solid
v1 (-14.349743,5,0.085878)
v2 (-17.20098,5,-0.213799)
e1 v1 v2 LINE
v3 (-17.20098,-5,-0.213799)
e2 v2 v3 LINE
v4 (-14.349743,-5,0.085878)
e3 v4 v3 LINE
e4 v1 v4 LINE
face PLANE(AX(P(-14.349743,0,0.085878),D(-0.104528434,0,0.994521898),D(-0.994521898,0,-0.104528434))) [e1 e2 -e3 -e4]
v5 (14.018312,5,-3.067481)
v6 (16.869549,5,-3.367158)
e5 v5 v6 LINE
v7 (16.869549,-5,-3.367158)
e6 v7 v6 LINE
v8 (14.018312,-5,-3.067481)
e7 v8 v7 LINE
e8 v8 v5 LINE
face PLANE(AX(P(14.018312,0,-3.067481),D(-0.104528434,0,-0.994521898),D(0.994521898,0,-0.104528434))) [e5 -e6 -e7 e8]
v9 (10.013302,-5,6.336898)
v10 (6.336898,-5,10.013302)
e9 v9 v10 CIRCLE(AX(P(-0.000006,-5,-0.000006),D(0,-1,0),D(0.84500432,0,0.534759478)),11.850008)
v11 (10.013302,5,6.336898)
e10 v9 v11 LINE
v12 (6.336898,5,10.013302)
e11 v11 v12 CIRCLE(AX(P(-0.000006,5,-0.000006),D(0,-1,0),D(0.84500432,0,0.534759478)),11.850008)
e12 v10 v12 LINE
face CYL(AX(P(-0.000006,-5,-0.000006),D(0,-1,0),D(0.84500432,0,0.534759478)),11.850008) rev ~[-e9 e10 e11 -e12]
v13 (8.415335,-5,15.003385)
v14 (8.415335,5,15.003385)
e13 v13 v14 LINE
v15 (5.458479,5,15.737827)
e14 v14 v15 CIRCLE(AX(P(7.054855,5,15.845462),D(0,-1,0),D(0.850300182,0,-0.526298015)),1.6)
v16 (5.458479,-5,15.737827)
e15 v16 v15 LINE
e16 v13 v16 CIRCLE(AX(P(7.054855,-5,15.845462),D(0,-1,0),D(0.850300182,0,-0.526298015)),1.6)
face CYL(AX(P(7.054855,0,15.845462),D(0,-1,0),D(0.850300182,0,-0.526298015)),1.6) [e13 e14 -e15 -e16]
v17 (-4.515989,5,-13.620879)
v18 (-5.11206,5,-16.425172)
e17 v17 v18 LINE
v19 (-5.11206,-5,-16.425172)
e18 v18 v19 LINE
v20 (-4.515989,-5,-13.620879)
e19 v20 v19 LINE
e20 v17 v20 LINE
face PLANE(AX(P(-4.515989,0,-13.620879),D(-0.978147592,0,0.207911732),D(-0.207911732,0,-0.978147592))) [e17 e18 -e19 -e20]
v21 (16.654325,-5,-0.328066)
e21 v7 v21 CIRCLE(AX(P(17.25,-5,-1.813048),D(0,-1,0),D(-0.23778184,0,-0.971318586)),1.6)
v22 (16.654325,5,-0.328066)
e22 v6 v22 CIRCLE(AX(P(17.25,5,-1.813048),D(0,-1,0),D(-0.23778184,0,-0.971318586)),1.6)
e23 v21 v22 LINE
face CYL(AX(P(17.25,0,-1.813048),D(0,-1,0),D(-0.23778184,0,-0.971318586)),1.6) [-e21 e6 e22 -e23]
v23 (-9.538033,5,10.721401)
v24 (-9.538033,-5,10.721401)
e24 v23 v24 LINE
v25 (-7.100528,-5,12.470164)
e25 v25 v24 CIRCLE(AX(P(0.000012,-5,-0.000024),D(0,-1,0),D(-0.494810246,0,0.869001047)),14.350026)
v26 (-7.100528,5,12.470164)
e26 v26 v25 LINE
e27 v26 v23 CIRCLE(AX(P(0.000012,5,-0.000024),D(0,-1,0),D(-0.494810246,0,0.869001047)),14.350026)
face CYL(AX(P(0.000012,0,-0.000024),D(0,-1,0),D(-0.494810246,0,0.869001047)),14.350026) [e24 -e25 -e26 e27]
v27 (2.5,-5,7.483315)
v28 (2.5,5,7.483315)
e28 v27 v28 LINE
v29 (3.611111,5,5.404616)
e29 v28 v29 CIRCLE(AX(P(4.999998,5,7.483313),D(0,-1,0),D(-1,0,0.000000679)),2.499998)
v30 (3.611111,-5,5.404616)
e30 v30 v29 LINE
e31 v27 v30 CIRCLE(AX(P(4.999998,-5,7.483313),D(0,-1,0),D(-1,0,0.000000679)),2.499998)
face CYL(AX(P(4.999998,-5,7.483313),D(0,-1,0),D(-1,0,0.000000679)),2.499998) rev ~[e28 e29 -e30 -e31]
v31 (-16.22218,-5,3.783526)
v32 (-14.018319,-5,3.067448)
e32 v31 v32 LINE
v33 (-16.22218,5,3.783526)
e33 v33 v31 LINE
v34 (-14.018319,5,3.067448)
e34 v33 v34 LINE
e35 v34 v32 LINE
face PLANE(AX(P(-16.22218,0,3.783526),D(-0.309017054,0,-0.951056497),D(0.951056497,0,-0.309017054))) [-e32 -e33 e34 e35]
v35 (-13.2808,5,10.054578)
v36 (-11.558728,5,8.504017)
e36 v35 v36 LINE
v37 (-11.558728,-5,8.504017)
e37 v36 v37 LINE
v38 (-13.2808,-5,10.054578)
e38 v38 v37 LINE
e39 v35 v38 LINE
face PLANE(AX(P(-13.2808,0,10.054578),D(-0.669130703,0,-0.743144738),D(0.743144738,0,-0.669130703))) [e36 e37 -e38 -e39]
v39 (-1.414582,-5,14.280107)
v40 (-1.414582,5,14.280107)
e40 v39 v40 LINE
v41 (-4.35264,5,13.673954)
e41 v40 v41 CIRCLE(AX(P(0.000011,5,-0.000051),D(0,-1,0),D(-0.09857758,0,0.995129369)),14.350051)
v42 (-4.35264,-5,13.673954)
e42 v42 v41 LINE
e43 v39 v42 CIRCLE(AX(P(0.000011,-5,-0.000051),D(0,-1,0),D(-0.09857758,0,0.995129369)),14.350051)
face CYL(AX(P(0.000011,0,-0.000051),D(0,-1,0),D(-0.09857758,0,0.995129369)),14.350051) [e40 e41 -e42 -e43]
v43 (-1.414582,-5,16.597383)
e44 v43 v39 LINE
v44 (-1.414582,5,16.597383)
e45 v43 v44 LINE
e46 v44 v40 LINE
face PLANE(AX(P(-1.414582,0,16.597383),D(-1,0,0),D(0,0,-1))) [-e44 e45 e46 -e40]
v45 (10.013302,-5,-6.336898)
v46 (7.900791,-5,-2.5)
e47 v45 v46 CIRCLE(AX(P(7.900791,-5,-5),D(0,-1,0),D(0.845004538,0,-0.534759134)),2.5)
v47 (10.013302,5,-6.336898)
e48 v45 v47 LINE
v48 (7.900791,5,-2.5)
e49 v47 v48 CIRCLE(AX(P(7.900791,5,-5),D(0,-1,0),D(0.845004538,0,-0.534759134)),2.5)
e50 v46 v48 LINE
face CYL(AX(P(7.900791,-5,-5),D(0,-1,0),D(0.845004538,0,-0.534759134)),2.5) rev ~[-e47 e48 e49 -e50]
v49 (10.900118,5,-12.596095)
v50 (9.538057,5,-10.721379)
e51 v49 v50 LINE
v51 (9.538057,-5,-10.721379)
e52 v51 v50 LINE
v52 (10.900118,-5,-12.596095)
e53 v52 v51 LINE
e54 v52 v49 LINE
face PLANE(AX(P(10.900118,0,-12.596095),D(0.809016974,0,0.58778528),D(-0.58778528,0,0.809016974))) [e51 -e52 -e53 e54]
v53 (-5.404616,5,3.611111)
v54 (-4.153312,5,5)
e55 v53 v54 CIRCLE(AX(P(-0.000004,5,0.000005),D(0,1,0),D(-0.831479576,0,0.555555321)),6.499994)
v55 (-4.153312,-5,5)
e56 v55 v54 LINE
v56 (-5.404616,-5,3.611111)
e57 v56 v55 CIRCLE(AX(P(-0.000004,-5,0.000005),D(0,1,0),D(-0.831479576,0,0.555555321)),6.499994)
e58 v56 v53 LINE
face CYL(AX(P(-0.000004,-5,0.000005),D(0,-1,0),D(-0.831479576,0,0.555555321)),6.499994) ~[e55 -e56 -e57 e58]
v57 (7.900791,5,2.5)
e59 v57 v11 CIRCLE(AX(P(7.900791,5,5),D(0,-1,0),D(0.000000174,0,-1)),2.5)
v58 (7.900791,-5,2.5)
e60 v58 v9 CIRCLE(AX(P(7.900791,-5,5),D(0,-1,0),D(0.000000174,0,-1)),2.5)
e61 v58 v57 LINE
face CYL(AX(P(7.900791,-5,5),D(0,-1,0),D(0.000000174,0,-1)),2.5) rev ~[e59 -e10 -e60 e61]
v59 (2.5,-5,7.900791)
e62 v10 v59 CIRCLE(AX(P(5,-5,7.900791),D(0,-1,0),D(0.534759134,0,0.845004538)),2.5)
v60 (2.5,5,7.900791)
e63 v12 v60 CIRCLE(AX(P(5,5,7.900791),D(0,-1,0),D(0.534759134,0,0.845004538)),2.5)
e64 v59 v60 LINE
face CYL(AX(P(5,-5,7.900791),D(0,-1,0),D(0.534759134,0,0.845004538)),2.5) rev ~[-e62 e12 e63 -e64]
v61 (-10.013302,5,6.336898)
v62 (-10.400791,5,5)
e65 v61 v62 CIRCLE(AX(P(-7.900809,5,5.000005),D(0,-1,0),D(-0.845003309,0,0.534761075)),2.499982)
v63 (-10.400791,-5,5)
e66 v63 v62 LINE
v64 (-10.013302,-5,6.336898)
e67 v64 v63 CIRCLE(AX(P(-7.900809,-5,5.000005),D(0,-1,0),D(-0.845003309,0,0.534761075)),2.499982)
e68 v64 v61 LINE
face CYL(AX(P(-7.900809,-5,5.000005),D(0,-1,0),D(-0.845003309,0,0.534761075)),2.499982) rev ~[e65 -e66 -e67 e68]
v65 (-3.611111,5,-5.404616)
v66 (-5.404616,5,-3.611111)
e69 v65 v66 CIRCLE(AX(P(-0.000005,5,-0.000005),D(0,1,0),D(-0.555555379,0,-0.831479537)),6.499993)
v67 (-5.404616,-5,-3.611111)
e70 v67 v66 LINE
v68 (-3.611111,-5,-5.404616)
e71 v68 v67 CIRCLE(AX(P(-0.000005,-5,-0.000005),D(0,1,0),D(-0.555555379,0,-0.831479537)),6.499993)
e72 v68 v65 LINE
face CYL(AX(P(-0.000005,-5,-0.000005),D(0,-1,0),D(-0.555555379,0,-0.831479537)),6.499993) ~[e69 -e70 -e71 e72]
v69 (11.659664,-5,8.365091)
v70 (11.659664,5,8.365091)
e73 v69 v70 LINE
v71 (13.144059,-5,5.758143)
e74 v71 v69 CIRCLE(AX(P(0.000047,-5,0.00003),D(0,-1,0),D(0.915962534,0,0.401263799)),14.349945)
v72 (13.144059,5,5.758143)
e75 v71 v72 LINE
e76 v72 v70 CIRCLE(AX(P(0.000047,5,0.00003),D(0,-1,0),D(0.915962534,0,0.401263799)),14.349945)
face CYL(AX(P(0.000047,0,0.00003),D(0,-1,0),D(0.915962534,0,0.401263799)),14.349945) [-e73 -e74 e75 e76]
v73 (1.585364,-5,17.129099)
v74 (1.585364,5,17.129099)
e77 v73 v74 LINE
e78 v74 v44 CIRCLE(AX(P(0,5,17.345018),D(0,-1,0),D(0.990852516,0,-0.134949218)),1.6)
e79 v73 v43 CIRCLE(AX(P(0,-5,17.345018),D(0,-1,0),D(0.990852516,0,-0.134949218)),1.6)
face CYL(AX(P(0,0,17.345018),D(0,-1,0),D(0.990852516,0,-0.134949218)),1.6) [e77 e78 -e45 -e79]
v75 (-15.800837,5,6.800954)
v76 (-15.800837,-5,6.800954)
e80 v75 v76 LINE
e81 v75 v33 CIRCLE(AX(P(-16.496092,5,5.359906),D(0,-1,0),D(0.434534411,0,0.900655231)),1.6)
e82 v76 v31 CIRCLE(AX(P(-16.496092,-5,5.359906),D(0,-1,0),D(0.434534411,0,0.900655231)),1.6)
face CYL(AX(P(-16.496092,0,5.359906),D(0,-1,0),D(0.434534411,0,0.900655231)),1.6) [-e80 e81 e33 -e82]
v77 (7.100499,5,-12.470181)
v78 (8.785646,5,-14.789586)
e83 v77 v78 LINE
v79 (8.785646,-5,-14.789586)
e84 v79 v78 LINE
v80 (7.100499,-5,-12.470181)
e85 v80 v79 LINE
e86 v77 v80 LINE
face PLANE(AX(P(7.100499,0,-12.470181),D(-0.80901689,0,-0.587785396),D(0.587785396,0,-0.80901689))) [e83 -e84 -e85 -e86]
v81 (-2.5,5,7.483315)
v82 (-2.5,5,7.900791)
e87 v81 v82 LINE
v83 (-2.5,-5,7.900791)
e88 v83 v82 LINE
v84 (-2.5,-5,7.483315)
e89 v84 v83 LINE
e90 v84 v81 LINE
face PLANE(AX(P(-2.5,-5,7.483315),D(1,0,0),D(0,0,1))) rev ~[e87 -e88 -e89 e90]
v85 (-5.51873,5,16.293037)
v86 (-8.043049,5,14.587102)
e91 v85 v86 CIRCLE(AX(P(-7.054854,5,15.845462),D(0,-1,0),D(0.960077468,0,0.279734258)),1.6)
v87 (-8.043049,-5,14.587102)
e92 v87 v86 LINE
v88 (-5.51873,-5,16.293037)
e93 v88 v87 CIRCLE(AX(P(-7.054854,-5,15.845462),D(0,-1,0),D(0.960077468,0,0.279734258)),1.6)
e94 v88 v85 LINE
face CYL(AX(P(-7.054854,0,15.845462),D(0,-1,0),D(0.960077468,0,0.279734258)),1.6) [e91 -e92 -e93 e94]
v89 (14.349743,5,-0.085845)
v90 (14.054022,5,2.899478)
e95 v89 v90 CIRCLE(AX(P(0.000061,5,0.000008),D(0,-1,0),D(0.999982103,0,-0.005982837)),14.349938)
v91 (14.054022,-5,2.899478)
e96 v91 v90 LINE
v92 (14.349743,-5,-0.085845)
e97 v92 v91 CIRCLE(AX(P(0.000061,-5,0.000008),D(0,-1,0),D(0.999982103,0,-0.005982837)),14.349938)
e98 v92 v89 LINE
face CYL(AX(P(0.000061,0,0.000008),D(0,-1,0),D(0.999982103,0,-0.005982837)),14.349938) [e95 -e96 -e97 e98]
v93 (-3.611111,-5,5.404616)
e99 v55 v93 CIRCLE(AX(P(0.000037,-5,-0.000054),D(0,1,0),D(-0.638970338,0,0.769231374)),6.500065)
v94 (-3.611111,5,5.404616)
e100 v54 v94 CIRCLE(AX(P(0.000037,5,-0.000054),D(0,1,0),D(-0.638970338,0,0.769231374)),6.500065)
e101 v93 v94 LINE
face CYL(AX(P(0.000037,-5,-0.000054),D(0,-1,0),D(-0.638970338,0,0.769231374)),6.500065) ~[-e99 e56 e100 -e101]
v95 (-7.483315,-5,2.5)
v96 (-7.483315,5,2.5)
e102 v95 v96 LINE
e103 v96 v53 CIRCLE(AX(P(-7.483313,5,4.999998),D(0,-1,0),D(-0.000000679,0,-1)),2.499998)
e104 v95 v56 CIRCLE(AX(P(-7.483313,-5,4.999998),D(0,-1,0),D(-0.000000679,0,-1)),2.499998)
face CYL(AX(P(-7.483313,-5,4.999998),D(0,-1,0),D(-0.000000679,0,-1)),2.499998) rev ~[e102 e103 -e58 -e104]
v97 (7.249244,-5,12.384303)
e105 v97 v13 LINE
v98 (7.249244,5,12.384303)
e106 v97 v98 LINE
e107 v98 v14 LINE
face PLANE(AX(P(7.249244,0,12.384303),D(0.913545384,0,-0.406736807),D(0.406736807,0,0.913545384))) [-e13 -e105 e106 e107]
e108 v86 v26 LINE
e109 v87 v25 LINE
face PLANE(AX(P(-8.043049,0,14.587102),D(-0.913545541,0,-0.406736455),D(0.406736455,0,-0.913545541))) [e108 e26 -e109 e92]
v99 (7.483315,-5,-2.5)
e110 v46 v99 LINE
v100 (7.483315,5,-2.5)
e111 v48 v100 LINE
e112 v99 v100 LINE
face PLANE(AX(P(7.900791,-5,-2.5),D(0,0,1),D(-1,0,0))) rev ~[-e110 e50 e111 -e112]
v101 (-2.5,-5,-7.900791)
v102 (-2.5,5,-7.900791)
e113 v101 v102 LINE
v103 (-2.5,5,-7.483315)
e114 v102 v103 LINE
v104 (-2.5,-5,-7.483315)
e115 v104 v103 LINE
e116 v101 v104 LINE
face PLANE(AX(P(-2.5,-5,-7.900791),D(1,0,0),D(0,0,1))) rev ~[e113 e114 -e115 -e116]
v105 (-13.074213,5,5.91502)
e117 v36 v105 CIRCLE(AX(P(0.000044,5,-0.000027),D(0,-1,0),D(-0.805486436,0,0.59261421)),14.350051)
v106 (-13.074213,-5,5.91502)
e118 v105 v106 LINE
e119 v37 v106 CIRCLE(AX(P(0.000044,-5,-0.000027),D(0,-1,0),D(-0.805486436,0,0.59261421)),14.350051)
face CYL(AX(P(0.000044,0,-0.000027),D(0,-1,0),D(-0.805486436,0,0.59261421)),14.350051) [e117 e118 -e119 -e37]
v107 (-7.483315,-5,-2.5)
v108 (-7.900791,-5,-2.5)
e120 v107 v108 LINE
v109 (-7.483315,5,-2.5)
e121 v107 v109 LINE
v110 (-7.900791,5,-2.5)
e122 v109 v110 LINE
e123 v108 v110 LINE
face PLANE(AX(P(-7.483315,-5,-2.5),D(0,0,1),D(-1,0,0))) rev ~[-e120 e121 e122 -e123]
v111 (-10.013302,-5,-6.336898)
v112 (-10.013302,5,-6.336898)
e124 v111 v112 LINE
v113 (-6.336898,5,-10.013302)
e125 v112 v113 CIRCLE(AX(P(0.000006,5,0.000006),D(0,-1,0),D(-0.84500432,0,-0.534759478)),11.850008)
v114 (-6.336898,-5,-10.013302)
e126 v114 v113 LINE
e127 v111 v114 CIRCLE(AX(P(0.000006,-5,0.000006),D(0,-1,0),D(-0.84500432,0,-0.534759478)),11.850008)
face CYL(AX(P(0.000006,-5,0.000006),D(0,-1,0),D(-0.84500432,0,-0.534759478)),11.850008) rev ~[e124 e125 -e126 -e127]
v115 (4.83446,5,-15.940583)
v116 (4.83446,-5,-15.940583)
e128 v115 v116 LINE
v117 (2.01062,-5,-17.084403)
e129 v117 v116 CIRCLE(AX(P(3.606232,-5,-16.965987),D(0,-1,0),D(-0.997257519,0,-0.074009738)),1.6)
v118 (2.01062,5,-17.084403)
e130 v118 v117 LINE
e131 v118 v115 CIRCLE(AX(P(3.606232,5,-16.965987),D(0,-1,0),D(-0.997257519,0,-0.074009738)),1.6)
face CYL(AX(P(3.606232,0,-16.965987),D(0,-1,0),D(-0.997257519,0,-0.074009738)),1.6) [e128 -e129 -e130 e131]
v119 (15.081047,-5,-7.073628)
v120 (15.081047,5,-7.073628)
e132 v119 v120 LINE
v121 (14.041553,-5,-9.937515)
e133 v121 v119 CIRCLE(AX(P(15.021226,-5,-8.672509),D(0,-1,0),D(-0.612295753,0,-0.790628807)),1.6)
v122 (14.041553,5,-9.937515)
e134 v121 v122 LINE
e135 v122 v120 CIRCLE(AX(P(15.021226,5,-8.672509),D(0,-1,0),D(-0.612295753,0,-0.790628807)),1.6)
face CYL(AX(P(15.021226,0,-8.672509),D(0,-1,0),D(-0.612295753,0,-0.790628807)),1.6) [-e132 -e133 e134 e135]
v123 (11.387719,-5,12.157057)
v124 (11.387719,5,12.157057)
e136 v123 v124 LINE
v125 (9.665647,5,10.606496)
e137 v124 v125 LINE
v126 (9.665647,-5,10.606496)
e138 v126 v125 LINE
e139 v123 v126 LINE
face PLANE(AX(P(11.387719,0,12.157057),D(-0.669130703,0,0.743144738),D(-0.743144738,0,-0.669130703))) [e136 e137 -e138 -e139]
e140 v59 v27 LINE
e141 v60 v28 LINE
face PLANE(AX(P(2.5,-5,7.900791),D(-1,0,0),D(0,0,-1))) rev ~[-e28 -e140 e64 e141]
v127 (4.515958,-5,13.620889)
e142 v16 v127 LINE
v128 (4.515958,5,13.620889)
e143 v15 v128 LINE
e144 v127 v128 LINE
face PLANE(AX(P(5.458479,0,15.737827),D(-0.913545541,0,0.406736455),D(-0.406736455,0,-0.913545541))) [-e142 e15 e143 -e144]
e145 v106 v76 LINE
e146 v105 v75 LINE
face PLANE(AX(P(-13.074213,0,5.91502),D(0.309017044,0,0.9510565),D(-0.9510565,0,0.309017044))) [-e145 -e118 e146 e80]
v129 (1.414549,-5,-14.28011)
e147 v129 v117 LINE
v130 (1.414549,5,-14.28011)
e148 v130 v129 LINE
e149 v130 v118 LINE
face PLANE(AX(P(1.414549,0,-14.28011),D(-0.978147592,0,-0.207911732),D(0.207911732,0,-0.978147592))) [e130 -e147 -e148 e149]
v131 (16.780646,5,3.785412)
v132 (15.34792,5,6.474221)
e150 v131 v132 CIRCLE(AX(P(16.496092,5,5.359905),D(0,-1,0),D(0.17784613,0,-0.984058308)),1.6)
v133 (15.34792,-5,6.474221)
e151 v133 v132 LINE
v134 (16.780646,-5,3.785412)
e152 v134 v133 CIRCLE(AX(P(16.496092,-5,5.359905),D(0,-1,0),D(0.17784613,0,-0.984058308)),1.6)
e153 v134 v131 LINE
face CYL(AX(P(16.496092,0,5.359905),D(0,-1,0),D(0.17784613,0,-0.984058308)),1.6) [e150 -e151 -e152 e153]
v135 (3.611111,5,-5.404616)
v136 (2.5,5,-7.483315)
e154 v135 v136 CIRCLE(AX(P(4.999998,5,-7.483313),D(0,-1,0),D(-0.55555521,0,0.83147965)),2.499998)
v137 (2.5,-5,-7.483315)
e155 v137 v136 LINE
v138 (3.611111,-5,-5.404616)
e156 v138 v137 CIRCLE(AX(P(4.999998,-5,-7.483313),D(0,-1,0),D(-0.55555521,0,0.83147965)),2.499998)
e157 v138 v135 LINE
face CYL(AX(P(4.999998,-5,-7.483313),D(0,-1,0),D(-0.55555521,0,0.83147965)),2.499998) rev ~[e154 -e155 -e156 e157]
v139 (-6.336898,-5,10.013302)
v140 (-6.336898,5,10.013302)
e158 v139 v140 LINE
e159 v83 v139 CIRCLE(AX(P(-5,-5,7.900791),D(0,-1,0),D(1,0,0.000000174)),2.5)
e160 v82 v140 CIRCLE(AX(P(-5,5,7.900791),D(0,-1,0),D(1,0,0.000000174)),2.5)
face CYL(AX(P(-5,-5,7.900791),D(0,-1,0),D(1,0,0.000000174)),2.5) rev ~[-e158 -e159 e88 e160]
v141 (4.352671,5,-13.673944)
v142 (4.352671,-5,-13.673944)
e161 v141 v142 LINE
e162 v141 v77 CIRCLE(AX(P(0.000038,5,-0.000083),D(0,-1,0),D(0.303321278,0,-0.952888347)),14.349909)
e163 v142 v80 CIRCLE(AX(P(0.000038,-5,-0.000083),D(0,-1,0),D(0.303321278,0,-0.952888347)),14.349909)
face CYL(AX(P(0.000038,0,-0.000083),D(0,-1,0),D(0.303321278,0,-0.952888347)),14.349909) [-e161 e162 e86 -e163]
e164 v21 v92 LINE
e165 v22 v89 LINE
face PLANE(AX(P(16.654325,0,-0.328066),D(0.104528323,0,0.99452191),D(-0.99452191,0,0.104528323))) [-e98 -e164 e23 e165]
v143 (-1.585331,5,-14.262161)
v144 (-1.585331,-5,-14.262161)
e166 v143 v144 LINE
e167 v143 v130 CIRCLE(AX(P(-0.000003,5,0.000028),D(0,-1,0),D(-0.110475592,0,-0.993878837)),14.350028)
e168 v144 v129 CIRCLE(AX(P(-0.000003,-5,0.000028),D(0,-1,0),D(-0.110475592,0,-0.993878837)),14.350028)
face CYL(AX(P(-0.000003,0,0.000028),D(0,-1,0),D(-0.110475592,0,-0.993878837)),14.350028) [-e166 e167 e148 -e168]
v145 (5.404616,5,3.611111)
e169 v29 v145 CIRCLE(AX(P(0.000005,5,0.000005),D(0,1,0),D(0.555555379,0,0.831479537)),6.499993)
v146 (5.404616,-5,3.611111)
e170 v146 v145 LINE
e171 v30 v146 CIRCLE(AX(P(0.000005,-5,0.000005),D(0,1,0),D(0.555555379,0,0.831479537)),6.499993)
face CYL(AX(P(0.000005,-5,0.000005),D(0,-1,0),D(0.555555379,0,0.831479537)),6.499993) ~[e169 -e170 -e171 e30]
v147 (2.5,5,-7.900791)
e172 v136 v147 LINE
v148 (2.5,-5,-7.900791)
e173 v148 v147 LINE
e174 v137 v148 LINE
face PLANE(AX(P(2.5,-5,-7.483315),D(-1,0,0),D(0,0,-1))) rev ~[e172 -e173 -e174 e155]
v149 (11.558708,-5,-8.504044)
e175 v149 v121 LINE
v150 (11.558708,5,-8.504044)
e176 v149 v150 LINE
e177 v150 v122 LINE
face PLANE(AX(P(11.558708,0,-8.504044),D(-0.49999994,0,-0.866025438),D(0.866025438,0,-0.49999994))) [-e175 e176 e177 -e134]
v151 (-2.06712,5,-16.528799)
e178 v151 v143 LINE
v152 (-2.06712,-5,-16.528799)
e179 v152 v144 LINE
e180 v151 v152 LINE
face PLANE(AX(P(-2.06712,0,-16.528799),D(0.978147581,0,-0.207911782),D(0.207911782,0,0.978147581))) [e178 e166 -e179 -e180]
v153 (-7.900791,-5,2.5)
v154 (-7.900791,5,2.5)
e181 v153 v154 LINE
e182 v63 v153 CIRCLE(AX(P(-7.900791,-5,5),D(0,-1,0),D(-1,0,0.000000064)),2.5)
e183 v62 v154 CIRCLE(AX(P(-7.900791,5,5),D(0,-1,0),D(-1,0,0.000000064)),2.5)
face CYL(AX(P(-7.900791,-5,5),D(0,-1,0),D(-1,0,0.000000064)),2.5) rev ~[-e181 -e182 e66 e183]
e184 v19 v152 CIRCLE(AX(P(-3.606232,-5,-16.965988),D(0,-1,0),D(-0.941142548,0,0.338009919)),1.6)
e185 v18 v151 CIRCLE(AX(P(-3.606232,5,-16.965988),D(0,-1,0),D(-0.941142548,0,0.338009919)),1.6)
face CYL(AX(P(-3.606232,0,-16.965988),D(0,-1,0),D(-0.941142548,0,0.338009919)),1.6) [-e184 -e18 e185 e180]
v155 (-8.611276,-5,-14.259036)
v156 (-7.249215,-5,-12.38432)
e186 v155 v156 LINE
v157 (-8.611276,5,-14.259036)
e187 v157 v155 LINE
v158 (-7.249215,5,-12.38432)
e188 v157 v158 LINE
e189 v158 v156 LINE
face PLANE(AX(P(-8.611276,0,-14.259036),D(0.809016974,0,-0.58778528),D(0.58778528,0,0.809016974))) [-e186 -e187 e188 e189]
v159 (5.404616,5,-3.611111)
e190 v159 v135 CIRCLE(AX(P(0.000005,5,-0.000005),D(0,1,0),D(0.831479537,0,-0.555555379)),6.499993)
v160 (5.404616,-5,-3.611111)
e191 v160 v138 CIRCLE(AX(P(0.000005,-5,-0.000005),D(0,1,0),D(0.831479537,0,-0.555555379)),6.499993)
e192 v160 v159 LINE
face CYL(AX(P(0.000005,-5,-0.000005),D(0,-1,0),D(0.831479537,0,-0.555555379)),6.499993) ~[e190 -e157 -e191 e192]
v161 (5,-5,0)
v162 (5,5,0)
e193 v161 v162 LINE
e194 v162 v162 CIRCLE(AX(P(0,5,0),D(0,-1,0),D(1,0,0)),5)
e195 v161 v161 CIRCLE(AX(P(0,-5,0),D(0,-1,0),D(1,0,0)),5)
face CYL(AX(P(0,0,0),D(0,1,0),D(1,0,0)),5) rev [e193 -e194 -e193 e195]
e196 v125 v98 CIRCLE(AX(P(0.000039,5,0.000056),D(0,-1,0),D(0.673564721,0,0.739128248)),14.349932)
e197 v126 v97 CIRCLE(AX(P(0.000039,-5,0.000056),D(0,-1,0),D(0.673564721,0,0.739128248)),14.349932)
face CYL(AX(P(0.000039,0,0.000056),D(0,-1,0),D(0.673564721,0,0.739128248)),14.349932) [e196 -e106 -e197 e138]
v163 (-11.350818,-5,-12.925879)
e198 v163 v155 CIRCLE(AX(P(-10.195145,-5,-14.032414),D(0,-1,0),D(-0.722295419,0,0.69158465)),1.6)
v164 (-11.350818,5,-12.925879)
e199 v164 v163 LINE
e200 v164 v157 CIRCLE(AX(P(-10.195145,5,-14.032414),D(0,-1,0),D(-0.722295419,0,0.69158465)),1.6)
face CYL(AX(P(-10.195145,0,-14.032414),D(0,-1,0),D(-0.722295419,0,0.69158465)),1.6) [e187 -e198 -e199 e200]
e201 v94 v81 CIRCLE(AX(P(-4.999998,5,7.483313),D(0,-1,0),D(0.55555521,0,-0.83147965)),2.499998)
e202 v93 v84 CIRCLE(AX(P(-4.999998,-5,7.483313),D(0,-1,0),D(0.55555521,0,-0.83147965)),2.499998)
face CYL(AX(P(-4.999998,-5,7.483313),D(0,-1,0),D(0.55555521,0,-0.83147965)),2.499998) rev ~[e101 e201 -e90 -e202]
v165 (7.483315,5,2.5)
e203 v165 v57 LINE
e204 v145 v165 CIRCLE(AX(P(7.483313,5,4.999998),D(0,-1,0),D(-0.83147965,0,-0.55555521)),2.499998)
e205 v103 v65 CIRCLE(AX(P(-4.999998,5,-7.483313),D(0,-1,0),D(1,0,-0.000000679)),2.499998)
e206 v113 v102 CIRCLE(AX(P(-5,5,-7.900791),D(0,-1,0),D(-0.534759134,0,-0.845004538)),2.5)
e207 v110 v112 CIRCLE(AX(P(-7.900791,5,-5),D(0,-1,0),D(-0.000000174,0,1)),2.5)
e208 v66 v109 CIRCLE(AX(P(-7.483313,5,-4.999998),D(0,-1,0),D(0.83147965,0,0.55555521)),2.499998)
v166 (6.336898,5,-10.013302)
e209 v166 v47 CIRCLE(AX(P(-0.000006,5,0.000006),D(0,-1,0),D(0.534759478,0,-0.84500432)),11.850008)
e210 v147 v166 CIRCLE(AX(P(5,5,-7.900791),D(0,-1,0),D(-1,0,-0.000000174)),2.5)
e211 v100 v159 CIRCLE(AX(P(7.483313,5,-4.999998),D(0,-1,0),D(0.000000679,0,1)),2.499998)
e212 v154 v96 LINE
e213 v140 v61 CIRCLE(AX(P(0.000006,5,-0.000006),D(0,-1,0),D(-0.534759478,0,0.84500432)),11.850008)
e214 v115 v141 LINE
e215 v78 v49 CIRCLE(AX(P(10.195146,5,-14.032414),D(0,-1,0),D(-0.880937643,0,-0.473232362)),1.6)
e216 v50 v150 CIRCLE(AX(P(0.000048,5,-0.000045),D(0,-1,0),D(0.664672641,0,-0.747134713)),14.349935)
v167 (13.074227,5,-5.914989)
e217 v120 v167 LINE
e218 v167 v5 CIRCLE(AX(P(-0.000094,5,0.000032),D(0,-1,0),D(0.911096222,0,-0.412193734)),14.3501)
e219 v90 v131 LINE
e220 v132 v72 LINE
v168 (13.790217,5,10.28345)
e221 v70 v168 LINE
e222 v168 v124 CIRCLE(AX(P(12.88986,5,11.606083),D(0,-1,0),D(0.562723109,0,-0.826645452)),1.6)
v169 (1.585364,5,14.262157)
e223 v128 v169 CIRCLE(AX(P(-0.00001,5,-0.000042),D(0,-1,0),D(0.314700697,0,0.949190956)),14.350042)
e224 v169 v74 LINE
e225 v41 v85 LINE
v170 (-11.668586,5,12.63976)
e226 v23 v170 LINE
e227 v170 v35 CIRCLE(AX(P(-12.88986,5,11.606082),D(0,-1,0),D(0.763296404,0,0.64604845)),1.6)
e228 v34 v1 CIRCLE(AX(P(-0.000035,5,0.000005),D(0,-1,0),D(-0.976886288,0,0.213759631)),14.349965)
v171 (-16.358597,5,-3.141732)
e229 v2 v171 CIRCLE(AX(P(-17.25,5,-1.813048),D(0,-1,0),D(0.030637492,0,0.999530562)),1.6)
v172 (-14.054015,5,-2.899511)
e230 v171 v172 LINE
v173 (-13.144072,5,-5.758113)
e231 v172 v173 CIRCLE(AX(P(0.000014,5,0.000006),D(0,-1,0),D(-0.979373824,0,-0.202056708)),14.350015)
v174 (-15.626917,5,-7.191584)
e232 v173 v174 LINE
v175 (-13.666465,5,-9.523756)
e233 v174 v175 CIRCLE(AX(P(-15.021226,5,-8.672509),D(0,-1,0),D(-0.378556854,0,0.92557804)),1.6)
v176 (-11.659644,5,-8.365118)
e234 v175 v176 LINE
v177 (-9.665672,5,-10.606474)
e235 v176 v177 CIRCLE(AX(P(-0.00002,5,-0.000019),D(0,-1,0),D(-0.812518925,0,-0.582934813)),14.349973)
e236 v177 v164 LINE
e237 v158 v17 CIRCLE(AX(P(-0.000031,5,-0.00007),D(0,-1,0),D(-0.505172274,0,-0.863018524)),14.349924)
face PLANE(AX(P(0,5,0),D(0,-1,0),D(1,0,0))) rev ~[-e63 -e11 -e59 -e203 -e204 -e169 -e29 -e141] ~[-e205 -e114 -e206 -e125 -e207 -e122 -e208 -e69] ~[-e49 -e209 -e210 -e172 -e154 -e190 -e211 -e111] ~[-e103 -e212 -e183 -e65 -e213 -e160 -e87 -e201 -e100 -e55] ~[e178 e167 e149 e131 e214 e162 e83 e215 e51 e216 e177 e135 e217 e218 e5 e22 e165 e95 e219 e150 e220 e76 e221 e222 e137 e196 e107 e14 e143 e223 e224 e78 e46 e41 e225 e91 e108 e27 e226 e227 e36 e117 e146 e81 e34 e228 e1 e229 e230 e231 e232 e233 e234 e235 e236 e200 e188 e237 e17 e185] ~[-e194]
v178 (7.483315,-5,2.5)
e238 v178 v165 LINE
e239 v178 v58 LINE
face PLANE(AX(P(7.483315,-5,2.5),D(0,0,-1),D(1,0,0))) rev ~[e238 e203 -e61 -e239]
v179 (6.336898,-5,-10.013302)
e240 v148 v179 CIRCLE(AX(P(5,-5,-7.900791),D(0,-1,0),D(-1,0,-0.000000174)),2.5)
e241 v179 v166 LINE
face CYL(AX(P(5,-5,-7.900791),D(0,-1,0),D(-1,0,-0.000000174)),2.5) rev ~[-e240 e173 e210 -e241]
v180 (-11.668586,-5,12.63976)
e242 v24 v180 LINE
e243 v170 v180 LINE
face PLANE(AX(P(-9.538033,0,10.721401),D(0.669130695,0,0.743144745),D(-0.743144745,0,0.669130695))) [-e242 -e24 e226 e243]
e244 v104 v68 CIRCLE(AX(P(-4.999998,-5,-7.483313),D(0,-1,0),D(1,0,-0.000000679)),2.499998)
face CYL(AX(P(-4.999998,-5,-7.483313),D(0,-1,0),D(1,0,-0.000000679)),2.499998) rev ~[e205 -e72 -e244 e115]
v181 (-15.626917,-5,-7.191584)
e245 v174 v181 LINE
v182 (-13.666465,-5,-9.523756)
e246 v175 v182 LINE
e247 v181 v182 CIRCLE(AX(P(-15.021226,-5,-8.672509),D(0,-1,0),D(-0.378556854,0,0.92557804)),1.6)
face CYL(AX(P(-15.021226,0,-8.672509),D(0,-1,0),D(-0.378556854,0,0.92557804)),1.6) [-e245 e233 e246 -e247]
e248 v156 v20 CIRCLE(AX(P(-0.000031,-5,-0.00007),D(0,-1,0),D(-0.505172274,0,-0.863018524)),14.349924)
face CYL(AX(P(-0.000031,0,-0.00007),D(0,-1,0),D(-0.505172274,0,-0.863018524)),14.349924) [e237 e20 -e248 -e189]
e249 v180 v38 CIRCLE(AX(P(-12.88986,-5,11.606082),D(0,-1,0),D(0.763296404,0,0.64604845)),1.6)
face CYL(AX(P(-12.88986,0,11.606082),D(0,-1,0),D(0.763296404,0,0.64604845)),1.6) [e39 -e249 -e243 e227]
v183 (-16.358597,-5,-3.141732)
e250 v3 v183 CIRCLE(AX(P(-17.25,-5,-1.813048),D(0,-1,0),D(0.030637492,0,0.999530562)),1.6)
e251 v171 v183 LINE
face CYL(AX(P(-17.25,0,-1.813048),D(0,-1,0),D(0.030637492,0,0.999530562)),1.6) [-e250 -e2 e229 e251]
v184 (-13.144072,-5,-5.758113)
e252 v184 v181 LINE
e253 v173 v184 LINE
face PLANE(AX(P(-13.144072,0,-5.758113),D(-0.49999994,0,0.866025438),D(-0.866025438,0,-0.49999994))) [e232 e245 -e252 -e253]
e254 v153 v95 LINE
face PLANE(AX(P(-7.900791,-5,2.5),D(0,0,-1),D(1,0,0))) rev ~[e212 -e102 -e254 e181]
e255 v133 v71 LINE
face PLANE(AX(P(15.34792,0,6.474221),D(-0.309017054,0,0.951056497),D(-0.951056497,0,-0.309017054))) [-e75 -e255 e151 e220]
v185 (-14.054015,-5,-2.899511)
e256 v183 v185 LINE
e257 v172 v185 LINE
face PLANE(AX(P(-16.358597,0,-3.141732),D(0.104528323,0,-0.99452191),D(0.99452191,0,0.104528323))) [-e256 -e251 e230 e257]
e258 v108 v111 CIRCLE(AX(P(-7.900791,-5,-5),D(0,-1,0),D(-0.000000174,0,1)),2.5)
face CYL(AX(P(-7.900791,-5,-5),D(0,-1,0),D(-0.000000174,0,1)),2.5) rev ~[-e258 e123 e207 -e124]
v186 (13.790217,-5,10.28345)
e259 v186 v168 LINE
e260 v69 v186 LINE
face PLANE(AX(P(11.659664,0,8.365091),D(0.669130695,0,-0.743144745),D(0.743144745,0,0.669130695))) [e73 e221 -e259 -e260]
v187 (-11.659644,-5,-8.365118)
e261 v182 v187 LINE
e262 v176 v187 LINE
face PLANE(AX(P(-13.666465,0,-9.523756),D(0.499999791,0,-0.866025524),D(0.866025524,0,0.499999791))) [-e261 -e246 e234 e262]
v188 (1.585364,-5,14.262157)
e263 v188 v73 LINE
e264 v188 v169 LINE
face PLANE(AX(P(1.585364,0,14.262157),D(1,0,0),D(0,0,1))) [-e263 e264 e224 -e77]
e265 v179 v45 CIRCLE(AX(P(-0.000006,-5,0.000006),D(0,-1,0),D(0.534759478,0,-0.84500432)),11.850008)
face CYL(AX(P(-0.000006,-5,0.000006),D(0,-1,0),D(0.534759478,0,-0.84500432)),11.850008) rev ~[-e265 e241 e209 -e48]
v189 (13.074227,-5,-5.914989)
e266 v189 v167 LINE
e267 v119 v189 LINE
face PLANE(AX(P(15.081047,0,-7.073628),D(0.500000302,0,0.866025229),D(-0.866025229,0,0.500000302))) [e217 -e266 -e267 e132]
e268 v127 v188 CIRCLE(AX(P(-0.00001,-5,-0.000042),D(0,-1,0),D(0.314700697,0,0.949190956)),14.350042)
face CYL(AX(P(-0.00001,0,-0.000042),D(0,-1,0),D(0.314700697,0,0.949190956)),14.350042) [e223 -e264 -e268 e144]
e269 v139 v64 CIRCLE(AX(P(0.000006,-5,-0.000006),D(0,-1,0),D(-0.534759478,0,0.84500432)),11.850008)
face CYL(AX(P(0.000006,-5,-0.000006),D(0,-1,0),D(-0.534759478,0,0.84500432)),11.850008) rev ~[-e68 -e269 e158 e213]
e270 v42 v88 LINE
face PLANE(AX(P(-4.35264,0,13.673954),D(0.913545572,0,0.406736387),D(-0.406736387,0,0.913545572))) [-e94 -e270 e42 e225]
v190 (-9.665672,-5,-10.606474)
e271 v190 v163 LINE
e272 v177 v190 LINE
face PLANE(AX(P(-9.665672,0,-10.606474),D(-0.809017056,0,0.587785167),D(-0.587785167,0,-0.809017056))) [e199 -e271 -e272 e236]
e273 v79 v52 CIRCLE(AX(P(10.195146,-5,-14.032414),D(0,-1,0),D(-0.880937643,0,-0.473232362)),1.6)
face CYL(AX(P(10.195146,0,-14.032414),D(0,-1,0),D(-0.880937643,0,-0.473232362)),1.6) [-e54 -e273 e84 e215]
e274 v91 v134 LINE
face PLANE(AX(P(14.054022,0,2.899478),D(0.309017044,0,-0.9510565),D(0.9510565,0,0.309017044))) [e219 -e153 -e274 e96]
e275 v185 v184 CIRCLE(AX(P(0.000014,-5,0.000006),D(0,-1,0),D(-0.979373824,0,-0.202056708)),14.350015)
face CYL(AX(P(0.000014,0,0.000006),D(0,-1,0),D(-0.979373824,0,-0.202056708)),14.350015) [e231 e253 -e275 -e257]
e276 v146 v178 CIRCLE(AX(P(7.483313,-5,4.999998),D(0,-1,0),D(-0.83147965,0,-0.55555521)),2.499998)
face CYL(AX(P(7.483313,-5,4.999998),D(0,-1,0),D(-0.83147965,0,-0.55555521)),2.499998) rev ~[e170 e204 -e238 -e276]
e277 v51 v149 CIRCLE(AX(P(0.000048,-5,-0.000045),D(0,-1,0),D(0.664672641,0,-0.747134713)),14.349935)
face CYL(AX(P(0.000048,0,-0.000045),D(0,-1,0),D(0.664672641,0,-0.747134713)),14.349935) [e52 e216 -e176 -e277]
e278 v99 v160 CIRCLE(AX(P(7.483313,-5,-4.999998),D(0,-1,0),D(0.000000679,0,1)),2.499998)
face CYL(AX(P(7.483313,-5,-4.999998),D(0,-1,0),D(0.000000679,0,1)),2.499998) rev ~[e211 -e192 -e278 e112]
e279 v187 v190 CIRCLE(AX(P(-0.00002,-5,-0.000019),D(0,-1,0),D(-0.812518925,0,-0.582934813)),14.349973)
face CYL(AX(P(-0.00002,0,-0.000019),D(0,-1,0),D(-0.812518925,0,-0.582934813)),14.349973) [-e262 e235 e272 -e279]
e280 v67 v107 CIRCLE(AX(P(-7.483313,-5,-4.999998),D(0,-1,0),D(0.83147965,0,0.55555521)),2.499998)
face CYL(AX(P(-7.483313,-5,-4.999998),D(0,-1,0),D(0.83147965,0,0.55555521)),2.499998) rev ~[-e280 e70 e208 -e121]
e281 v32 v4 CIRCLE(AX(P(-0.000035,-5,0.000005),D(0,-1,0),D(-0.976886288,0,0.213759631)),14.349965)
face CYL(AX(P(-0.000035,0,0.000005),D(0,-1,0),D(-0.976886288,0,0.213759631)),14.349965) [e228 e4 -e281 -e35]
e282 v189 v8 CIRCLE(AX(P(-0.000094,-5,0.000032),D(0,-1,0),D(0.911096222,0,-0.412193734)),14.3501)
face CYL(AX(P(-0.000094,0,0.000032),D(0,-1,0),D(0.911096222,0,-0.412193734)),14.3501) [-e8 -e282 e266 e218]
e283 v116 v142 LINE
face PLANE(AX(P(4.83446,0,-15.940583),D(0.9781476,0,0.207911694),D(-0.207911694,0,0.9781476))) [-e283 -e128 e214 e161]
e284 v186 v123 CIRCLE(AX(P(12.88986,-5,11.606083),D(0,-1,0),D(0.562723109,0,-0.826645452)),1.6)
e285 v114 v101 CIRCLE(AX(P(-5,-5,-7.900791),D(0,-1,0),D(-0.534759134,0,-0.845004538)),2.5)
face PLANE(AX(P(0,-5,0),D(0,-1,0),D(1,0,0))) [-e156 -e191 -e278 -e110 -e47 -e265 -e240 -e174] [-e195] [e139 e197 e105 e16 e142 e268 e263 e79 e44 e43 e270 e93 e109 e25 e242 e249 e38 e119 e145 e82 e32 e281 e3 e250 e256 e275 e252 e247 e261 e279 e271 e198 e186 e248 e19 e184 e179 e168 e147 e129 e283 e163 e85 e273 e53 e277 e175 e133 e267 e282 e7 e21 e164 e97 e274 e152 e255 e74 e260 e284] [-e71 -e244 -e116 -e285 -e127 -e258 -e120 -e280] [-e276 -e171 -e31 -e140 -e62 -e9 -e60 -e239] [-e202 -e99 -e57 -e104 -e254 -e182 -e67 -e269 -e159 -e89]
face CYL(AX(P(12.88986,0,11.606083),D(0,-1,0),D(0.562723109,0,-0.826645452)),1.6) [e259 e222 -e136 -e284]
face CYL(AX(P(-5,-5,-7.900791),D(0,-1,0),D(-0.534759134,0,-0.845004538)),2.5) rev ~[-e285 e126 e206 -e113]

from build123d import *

# Parameters (mm, degrees)
F0_R     = 5
F1_DEPTH = 5
F3_DEPTH = 10


with BuildPart() as f1:
    # F0 (on Front) → F1 (new body, symmetric)
    with BuildSketch(Plane.XZ):
        with BuildLine():
            Line((-8.043049, 14.587102), (-7.100528, 12.470164))
            ThreePointArc((-7.100528, 12.470164), (-8.365104, 11.659654), (-9.538033, 10.721401))
            Line((-9.538033, 10.721401), (-11.668586, 12.63976))
            ThreePointArc((-11.668586, 12.63976), (-14.247489, 12.452749), (-13.2808, 10.054578))
            Line((-13.2808, 10.054578), (-11.558728, 8.504017))
            ThreePointArc((-11.558728, 8.504017), (-12.384311, 7.24923), (-13.074213, 5.91502))
            Line((-13.074213, 5.91502), (-15.800837, 6.800954))
            ThreePointArc((-15.800837, 6.800954), (-18.080718, 5.581177), (-16.22218, 3.783526))
            Line((-16.22218, 3.783526), (-14.018319, 3.067448))
            ThreePointArc((-14.018319, 3.067448), (-14.262159, 1.585348), (-14.349743, 0.085878))
            Line((-14.349743, 0.085878), (-17.20098, -0.213799))
            ThreePointArc((-17.20098, -0.213799), (-18.787627, -2.255432), (-16.358597, -3.141732))
            Line((-16.358597, -3.141732), (-14.054015, -2.899511))
            ThreePointArc((-14.054015, -2.899511), (-13.673949, -4.352656), (-13.144072, -5.758113))
            Line((-13.144072, -5.758113), (-15.626917, -7.191584))
            ThreePointArc((-15.626917, -7.191584), (-16.245984, -9.702056), (-13.666465, -9.523756))
            Line((-13.666465, -9.523756), (-11.659644, -8.365118))
            ThreePointArc((-11.659644, -8.365118), (-10.72139, -9.538045), (-9.665672, -10.606474))
            Line((-9.665672, -10.606474), (-11.350818, -12.925879))
            ThreePointArc((-11.350818, -12.925879), (-10.895264, -15.471106), (-8.611276, -14.259036))
            Line((-8.611276, -14.259036), (-7.249215, -12.38432))
            ThreePointArc((-7.249215, -12.38432), (-5.915005, -13.07422), (-4.515989, -13.620879))
            Line((-4.515989, -13.620879), (-5.11206, -16.425172))
            ThreePointArc((-5.11206, -16.425172), (-3.660653, -18.565062), (-2.06712, -16.528799))
            Line((-2.06712, -16.528799), (-1.585331, -14.262161))
            ThreePointArc((-1.585331, -14.262161), (-0.085861, -14.349743), (1.414549, -14.28011))
            Line((1.414549, -14.28011), (2.01062, -17.084403))
            ThreePointArc((2.01062, -17.084403), (4.206918, -18.448949), (4.83446, -15.940583))
            Line((4.83446, -15.940583), (4.352671, -13.673944))
            ThreePointArc((4.352671, -13.673944), (5.758128, -13.144066), (7.100499, -12.470181))
            Line((7.100499, -12.470181), (8.785646, -14.789586))
            ThreePointArc((8.785646, -14.789586), (11.347075, -15.142846), (10.900118, -12.596095))
            Line((10.900118, -12.596095), (9.538057, -10.721379))
            ThreePointArc((9.538057, -10.721379), (10.606485, -9.66566), (11.558708, -8.504044))
            Line((11.558708, -8.504044), (14.041553, -9.937515))
            ThreePointArc((14.041553, -9.937515), (16.525219, -9.218407), (15.081047, -7.073628))
            Line((15.081047, -7.073628), (13.074227, -5.914989))
            ThreePointArc((13.074227, -5.914989), (13.620884, -4.515973), (14.018312, -3.067481))
            Line((14.018312, -3.067481), (16.869549, -3.367158))
            ThreePointArc((16.869549, -3.367158), (18.846003, -1.700022), (16.654325, -0.328066))
            Line((16.654325, -0.328066), (14.349743, -0.085845))
            ThreePointArc((14.349743, -0.085845), (14.280109, 1.414566), (14.054022, 2.899478))
            Line((14.054022, 2.899478), (16.780646, 3.785412))
            ThreePointArc((16.780646, 3.785412), (17.908141, 6.112313), (15.34792, 6.474221))
            Line((15.34792, 6.474221), (13.144059, 5.758143))
            ThreePointArc((13.144059, 5.758143), (12.470173, 7.100514), (11.659664, 8.365091))
            Line((11.659664, 8.365091), (13.790217, 10.28345))
            ThreePointArc((13.790217, 10.28345), (13.8738, 12.867773), (11.387719, 12.157057))
            Line((11.387719, 12.157057), (9.665647, 10.606496))
            ThreePointArc((9.665647, 10.606496), (8.504031, 11.558718), (7.249244, 12.384303))
            Line((7.249244, 12.384303), (8.415335, 15.003385))
            ThreePointArc((8.415335, 15.003385), (7.440552, 17.398278), (5.458479, 15.737827))
            Line((5.458479, 15.737827), (4.515958, 13.620889))
            ThreePointArc((4.515958, 13.620889), (3.067464, 14.018315), (1.585364, 14.262157))
            Line((1.585364, 14.262157), (1.585364, 17.129099))
            ThreePointArc((1.585364, 17.129099), (-0.279235, 18.920463), (-1.414582, 16.597383))
            Line((-1.414582, 16.597383), (-1.414582, 14.280107))
            ThreePointArc((-1.414582, 14.280107), (-2.899494, 14.054018), (-4.35264, 13.673954))
            Line((-4.35264, 13.673954), (-5.51873, 16.293037))
            ThreePointArc((-5.51873, 16.293037), (-7.950739, 17.171128), (-8.043049, 14.587102))
        make_face()
        Circle(F0_R, mode=Mode.SUBTRACT)
    extrude(amount=F1_DEPTH, both=True)

    # F2 (on face) → F3 (cut)
    with BuildSketch(Plane.XZ.offset(5)):
        with BuildLine():
            ThreePointArc((-6.336898, 10.013302), (-8.379215, 8.379215), (-10.013302, 6.336898))
            ThreePointArc((-10.013302, 6.336898), (-10.301966, 5.695961), (-10.400791, 5))
            Line((-10.400791, 5), (-4.153312, 5))
            ThreePointArc((-4.153312, 5), (-3.887479, 5.209367), (-3.611111, 5.404616))
            ThreePointArc((-3.611111, 5.404616), (-2.795207, 6.304803), (-2.5, 7.483315))
            Line((-2.5, 7.483315), (-2.5, 7.900791))
            ThreePointArc((-2.5, 7.900791), (-3.794232, 10.090796), (-6.336898, 10.013302))
        make_face()
        with BuildLine():
            Line((-4.153312, 5), (-10.400791, 5))
            ThreePointArc((-10.400791, 5), (-9.668558, 3.232233), (-7.900791, 2.5))
            Line((-7.900791, 2.5), (-7.483315, 2.5))
            ThreePointArc((-7.483315, 2.5), (-6.304803, 2.795207), (-5.404616, 3.611111))
            ThreePointArc((-5.404616, 3.611111), (-4.829156, 4.350776), (-4.153312, 5))
        make_face()
        with BuildLine():
            ThreePointArc((6.336898, 10.013302), (3.794232, 10.090796), (2.5, 7.900791))
            Line((2.5, 7.900791), (2.5, 7.483315))
            ThreePointArc((2.5, 7.483315), (2.795207, 6.304803), (3.611111, 5.404616))
            ThreePointArc((3.611111, 5.404616), (4.596194, 4.596194), (5.404616, 3.611111))
            ThreePointArc((5.404616, 3.611111), (6.304803, 2.795207), (7.483315, 2.5))
            Line((7.483315, 2.5), (7.900791, 2.5))
            ThreePointArc((7.900791, 2.5), (10.090796, 3.794232), (10.013302, 6.336898))
            ThreePointArc((10.013302, 6.336898), (8.379215, 8.379215), (6.336898, 10.013302))
        make_face()
        with BuildLine():
            Line((-7.483315, -2.5), (-7.900791, -2.5))
            ThreePointArc((-7.900791, -2.5), (-10.090796, -3.794232), (-10.013302, -6.336898))
            ThreePointArc((-10.013302, -6.336898), (-8.379215, -8.379215), (-6.336898, -10.013302))
            ThreePointArc((-6.336898, -10.013302), (-3.794232, -10.090796), (-2.5, -7.900791))
            Line((-2.5, -7.900791), (-2.5, -7.483315))
            ThreePointArc((-2.5, -7.483315), (-2.795207, -6.304803), (-3.611111, -5.404616))
            ThreePointArc((-3.611111, -5.404616), (-4.596194, -4.596194), (-5.404616, -3.611111))
            ThreePointArc((-5.404616, -3.611111), (-6.304803, -2.795207), (-7.483315, -2.5))
        make_face()
        with BuildLine():
            ThreePointArc((5.404616, -3.611111), (4.596194, -4.596194), (3.611111, -5.404616))
            ThreePointArc((3.611111, -5.404616), (2.795207, -6.304803), (2.5, -7.483315))
            Line((2.5, -7.483315), (2.5, -7.900791))
            ThreePointArc((2.5, -7.900791), (3.794232, -10.090796), (6.336898, -10.013302))
            ThreePointArc((6.336898, -10.013302), (8.379215, -8.379215), (10.013302, -6.336898))
            ThreePointArc((10.013302, -6.336898), (10.090796, -3.794232), (7.900791, -2.5))
            Line((7.900791, -2.5), (7.483315, -2.5))
            ThreePointArc((7.483315, -2.5), (6.304803, -2.795207), (5.404616, -3.611111))
        make_face()
    extrude(amount=-F3_DEPTH, mode=Mode.SUBTRACT)


solid = f1.part
